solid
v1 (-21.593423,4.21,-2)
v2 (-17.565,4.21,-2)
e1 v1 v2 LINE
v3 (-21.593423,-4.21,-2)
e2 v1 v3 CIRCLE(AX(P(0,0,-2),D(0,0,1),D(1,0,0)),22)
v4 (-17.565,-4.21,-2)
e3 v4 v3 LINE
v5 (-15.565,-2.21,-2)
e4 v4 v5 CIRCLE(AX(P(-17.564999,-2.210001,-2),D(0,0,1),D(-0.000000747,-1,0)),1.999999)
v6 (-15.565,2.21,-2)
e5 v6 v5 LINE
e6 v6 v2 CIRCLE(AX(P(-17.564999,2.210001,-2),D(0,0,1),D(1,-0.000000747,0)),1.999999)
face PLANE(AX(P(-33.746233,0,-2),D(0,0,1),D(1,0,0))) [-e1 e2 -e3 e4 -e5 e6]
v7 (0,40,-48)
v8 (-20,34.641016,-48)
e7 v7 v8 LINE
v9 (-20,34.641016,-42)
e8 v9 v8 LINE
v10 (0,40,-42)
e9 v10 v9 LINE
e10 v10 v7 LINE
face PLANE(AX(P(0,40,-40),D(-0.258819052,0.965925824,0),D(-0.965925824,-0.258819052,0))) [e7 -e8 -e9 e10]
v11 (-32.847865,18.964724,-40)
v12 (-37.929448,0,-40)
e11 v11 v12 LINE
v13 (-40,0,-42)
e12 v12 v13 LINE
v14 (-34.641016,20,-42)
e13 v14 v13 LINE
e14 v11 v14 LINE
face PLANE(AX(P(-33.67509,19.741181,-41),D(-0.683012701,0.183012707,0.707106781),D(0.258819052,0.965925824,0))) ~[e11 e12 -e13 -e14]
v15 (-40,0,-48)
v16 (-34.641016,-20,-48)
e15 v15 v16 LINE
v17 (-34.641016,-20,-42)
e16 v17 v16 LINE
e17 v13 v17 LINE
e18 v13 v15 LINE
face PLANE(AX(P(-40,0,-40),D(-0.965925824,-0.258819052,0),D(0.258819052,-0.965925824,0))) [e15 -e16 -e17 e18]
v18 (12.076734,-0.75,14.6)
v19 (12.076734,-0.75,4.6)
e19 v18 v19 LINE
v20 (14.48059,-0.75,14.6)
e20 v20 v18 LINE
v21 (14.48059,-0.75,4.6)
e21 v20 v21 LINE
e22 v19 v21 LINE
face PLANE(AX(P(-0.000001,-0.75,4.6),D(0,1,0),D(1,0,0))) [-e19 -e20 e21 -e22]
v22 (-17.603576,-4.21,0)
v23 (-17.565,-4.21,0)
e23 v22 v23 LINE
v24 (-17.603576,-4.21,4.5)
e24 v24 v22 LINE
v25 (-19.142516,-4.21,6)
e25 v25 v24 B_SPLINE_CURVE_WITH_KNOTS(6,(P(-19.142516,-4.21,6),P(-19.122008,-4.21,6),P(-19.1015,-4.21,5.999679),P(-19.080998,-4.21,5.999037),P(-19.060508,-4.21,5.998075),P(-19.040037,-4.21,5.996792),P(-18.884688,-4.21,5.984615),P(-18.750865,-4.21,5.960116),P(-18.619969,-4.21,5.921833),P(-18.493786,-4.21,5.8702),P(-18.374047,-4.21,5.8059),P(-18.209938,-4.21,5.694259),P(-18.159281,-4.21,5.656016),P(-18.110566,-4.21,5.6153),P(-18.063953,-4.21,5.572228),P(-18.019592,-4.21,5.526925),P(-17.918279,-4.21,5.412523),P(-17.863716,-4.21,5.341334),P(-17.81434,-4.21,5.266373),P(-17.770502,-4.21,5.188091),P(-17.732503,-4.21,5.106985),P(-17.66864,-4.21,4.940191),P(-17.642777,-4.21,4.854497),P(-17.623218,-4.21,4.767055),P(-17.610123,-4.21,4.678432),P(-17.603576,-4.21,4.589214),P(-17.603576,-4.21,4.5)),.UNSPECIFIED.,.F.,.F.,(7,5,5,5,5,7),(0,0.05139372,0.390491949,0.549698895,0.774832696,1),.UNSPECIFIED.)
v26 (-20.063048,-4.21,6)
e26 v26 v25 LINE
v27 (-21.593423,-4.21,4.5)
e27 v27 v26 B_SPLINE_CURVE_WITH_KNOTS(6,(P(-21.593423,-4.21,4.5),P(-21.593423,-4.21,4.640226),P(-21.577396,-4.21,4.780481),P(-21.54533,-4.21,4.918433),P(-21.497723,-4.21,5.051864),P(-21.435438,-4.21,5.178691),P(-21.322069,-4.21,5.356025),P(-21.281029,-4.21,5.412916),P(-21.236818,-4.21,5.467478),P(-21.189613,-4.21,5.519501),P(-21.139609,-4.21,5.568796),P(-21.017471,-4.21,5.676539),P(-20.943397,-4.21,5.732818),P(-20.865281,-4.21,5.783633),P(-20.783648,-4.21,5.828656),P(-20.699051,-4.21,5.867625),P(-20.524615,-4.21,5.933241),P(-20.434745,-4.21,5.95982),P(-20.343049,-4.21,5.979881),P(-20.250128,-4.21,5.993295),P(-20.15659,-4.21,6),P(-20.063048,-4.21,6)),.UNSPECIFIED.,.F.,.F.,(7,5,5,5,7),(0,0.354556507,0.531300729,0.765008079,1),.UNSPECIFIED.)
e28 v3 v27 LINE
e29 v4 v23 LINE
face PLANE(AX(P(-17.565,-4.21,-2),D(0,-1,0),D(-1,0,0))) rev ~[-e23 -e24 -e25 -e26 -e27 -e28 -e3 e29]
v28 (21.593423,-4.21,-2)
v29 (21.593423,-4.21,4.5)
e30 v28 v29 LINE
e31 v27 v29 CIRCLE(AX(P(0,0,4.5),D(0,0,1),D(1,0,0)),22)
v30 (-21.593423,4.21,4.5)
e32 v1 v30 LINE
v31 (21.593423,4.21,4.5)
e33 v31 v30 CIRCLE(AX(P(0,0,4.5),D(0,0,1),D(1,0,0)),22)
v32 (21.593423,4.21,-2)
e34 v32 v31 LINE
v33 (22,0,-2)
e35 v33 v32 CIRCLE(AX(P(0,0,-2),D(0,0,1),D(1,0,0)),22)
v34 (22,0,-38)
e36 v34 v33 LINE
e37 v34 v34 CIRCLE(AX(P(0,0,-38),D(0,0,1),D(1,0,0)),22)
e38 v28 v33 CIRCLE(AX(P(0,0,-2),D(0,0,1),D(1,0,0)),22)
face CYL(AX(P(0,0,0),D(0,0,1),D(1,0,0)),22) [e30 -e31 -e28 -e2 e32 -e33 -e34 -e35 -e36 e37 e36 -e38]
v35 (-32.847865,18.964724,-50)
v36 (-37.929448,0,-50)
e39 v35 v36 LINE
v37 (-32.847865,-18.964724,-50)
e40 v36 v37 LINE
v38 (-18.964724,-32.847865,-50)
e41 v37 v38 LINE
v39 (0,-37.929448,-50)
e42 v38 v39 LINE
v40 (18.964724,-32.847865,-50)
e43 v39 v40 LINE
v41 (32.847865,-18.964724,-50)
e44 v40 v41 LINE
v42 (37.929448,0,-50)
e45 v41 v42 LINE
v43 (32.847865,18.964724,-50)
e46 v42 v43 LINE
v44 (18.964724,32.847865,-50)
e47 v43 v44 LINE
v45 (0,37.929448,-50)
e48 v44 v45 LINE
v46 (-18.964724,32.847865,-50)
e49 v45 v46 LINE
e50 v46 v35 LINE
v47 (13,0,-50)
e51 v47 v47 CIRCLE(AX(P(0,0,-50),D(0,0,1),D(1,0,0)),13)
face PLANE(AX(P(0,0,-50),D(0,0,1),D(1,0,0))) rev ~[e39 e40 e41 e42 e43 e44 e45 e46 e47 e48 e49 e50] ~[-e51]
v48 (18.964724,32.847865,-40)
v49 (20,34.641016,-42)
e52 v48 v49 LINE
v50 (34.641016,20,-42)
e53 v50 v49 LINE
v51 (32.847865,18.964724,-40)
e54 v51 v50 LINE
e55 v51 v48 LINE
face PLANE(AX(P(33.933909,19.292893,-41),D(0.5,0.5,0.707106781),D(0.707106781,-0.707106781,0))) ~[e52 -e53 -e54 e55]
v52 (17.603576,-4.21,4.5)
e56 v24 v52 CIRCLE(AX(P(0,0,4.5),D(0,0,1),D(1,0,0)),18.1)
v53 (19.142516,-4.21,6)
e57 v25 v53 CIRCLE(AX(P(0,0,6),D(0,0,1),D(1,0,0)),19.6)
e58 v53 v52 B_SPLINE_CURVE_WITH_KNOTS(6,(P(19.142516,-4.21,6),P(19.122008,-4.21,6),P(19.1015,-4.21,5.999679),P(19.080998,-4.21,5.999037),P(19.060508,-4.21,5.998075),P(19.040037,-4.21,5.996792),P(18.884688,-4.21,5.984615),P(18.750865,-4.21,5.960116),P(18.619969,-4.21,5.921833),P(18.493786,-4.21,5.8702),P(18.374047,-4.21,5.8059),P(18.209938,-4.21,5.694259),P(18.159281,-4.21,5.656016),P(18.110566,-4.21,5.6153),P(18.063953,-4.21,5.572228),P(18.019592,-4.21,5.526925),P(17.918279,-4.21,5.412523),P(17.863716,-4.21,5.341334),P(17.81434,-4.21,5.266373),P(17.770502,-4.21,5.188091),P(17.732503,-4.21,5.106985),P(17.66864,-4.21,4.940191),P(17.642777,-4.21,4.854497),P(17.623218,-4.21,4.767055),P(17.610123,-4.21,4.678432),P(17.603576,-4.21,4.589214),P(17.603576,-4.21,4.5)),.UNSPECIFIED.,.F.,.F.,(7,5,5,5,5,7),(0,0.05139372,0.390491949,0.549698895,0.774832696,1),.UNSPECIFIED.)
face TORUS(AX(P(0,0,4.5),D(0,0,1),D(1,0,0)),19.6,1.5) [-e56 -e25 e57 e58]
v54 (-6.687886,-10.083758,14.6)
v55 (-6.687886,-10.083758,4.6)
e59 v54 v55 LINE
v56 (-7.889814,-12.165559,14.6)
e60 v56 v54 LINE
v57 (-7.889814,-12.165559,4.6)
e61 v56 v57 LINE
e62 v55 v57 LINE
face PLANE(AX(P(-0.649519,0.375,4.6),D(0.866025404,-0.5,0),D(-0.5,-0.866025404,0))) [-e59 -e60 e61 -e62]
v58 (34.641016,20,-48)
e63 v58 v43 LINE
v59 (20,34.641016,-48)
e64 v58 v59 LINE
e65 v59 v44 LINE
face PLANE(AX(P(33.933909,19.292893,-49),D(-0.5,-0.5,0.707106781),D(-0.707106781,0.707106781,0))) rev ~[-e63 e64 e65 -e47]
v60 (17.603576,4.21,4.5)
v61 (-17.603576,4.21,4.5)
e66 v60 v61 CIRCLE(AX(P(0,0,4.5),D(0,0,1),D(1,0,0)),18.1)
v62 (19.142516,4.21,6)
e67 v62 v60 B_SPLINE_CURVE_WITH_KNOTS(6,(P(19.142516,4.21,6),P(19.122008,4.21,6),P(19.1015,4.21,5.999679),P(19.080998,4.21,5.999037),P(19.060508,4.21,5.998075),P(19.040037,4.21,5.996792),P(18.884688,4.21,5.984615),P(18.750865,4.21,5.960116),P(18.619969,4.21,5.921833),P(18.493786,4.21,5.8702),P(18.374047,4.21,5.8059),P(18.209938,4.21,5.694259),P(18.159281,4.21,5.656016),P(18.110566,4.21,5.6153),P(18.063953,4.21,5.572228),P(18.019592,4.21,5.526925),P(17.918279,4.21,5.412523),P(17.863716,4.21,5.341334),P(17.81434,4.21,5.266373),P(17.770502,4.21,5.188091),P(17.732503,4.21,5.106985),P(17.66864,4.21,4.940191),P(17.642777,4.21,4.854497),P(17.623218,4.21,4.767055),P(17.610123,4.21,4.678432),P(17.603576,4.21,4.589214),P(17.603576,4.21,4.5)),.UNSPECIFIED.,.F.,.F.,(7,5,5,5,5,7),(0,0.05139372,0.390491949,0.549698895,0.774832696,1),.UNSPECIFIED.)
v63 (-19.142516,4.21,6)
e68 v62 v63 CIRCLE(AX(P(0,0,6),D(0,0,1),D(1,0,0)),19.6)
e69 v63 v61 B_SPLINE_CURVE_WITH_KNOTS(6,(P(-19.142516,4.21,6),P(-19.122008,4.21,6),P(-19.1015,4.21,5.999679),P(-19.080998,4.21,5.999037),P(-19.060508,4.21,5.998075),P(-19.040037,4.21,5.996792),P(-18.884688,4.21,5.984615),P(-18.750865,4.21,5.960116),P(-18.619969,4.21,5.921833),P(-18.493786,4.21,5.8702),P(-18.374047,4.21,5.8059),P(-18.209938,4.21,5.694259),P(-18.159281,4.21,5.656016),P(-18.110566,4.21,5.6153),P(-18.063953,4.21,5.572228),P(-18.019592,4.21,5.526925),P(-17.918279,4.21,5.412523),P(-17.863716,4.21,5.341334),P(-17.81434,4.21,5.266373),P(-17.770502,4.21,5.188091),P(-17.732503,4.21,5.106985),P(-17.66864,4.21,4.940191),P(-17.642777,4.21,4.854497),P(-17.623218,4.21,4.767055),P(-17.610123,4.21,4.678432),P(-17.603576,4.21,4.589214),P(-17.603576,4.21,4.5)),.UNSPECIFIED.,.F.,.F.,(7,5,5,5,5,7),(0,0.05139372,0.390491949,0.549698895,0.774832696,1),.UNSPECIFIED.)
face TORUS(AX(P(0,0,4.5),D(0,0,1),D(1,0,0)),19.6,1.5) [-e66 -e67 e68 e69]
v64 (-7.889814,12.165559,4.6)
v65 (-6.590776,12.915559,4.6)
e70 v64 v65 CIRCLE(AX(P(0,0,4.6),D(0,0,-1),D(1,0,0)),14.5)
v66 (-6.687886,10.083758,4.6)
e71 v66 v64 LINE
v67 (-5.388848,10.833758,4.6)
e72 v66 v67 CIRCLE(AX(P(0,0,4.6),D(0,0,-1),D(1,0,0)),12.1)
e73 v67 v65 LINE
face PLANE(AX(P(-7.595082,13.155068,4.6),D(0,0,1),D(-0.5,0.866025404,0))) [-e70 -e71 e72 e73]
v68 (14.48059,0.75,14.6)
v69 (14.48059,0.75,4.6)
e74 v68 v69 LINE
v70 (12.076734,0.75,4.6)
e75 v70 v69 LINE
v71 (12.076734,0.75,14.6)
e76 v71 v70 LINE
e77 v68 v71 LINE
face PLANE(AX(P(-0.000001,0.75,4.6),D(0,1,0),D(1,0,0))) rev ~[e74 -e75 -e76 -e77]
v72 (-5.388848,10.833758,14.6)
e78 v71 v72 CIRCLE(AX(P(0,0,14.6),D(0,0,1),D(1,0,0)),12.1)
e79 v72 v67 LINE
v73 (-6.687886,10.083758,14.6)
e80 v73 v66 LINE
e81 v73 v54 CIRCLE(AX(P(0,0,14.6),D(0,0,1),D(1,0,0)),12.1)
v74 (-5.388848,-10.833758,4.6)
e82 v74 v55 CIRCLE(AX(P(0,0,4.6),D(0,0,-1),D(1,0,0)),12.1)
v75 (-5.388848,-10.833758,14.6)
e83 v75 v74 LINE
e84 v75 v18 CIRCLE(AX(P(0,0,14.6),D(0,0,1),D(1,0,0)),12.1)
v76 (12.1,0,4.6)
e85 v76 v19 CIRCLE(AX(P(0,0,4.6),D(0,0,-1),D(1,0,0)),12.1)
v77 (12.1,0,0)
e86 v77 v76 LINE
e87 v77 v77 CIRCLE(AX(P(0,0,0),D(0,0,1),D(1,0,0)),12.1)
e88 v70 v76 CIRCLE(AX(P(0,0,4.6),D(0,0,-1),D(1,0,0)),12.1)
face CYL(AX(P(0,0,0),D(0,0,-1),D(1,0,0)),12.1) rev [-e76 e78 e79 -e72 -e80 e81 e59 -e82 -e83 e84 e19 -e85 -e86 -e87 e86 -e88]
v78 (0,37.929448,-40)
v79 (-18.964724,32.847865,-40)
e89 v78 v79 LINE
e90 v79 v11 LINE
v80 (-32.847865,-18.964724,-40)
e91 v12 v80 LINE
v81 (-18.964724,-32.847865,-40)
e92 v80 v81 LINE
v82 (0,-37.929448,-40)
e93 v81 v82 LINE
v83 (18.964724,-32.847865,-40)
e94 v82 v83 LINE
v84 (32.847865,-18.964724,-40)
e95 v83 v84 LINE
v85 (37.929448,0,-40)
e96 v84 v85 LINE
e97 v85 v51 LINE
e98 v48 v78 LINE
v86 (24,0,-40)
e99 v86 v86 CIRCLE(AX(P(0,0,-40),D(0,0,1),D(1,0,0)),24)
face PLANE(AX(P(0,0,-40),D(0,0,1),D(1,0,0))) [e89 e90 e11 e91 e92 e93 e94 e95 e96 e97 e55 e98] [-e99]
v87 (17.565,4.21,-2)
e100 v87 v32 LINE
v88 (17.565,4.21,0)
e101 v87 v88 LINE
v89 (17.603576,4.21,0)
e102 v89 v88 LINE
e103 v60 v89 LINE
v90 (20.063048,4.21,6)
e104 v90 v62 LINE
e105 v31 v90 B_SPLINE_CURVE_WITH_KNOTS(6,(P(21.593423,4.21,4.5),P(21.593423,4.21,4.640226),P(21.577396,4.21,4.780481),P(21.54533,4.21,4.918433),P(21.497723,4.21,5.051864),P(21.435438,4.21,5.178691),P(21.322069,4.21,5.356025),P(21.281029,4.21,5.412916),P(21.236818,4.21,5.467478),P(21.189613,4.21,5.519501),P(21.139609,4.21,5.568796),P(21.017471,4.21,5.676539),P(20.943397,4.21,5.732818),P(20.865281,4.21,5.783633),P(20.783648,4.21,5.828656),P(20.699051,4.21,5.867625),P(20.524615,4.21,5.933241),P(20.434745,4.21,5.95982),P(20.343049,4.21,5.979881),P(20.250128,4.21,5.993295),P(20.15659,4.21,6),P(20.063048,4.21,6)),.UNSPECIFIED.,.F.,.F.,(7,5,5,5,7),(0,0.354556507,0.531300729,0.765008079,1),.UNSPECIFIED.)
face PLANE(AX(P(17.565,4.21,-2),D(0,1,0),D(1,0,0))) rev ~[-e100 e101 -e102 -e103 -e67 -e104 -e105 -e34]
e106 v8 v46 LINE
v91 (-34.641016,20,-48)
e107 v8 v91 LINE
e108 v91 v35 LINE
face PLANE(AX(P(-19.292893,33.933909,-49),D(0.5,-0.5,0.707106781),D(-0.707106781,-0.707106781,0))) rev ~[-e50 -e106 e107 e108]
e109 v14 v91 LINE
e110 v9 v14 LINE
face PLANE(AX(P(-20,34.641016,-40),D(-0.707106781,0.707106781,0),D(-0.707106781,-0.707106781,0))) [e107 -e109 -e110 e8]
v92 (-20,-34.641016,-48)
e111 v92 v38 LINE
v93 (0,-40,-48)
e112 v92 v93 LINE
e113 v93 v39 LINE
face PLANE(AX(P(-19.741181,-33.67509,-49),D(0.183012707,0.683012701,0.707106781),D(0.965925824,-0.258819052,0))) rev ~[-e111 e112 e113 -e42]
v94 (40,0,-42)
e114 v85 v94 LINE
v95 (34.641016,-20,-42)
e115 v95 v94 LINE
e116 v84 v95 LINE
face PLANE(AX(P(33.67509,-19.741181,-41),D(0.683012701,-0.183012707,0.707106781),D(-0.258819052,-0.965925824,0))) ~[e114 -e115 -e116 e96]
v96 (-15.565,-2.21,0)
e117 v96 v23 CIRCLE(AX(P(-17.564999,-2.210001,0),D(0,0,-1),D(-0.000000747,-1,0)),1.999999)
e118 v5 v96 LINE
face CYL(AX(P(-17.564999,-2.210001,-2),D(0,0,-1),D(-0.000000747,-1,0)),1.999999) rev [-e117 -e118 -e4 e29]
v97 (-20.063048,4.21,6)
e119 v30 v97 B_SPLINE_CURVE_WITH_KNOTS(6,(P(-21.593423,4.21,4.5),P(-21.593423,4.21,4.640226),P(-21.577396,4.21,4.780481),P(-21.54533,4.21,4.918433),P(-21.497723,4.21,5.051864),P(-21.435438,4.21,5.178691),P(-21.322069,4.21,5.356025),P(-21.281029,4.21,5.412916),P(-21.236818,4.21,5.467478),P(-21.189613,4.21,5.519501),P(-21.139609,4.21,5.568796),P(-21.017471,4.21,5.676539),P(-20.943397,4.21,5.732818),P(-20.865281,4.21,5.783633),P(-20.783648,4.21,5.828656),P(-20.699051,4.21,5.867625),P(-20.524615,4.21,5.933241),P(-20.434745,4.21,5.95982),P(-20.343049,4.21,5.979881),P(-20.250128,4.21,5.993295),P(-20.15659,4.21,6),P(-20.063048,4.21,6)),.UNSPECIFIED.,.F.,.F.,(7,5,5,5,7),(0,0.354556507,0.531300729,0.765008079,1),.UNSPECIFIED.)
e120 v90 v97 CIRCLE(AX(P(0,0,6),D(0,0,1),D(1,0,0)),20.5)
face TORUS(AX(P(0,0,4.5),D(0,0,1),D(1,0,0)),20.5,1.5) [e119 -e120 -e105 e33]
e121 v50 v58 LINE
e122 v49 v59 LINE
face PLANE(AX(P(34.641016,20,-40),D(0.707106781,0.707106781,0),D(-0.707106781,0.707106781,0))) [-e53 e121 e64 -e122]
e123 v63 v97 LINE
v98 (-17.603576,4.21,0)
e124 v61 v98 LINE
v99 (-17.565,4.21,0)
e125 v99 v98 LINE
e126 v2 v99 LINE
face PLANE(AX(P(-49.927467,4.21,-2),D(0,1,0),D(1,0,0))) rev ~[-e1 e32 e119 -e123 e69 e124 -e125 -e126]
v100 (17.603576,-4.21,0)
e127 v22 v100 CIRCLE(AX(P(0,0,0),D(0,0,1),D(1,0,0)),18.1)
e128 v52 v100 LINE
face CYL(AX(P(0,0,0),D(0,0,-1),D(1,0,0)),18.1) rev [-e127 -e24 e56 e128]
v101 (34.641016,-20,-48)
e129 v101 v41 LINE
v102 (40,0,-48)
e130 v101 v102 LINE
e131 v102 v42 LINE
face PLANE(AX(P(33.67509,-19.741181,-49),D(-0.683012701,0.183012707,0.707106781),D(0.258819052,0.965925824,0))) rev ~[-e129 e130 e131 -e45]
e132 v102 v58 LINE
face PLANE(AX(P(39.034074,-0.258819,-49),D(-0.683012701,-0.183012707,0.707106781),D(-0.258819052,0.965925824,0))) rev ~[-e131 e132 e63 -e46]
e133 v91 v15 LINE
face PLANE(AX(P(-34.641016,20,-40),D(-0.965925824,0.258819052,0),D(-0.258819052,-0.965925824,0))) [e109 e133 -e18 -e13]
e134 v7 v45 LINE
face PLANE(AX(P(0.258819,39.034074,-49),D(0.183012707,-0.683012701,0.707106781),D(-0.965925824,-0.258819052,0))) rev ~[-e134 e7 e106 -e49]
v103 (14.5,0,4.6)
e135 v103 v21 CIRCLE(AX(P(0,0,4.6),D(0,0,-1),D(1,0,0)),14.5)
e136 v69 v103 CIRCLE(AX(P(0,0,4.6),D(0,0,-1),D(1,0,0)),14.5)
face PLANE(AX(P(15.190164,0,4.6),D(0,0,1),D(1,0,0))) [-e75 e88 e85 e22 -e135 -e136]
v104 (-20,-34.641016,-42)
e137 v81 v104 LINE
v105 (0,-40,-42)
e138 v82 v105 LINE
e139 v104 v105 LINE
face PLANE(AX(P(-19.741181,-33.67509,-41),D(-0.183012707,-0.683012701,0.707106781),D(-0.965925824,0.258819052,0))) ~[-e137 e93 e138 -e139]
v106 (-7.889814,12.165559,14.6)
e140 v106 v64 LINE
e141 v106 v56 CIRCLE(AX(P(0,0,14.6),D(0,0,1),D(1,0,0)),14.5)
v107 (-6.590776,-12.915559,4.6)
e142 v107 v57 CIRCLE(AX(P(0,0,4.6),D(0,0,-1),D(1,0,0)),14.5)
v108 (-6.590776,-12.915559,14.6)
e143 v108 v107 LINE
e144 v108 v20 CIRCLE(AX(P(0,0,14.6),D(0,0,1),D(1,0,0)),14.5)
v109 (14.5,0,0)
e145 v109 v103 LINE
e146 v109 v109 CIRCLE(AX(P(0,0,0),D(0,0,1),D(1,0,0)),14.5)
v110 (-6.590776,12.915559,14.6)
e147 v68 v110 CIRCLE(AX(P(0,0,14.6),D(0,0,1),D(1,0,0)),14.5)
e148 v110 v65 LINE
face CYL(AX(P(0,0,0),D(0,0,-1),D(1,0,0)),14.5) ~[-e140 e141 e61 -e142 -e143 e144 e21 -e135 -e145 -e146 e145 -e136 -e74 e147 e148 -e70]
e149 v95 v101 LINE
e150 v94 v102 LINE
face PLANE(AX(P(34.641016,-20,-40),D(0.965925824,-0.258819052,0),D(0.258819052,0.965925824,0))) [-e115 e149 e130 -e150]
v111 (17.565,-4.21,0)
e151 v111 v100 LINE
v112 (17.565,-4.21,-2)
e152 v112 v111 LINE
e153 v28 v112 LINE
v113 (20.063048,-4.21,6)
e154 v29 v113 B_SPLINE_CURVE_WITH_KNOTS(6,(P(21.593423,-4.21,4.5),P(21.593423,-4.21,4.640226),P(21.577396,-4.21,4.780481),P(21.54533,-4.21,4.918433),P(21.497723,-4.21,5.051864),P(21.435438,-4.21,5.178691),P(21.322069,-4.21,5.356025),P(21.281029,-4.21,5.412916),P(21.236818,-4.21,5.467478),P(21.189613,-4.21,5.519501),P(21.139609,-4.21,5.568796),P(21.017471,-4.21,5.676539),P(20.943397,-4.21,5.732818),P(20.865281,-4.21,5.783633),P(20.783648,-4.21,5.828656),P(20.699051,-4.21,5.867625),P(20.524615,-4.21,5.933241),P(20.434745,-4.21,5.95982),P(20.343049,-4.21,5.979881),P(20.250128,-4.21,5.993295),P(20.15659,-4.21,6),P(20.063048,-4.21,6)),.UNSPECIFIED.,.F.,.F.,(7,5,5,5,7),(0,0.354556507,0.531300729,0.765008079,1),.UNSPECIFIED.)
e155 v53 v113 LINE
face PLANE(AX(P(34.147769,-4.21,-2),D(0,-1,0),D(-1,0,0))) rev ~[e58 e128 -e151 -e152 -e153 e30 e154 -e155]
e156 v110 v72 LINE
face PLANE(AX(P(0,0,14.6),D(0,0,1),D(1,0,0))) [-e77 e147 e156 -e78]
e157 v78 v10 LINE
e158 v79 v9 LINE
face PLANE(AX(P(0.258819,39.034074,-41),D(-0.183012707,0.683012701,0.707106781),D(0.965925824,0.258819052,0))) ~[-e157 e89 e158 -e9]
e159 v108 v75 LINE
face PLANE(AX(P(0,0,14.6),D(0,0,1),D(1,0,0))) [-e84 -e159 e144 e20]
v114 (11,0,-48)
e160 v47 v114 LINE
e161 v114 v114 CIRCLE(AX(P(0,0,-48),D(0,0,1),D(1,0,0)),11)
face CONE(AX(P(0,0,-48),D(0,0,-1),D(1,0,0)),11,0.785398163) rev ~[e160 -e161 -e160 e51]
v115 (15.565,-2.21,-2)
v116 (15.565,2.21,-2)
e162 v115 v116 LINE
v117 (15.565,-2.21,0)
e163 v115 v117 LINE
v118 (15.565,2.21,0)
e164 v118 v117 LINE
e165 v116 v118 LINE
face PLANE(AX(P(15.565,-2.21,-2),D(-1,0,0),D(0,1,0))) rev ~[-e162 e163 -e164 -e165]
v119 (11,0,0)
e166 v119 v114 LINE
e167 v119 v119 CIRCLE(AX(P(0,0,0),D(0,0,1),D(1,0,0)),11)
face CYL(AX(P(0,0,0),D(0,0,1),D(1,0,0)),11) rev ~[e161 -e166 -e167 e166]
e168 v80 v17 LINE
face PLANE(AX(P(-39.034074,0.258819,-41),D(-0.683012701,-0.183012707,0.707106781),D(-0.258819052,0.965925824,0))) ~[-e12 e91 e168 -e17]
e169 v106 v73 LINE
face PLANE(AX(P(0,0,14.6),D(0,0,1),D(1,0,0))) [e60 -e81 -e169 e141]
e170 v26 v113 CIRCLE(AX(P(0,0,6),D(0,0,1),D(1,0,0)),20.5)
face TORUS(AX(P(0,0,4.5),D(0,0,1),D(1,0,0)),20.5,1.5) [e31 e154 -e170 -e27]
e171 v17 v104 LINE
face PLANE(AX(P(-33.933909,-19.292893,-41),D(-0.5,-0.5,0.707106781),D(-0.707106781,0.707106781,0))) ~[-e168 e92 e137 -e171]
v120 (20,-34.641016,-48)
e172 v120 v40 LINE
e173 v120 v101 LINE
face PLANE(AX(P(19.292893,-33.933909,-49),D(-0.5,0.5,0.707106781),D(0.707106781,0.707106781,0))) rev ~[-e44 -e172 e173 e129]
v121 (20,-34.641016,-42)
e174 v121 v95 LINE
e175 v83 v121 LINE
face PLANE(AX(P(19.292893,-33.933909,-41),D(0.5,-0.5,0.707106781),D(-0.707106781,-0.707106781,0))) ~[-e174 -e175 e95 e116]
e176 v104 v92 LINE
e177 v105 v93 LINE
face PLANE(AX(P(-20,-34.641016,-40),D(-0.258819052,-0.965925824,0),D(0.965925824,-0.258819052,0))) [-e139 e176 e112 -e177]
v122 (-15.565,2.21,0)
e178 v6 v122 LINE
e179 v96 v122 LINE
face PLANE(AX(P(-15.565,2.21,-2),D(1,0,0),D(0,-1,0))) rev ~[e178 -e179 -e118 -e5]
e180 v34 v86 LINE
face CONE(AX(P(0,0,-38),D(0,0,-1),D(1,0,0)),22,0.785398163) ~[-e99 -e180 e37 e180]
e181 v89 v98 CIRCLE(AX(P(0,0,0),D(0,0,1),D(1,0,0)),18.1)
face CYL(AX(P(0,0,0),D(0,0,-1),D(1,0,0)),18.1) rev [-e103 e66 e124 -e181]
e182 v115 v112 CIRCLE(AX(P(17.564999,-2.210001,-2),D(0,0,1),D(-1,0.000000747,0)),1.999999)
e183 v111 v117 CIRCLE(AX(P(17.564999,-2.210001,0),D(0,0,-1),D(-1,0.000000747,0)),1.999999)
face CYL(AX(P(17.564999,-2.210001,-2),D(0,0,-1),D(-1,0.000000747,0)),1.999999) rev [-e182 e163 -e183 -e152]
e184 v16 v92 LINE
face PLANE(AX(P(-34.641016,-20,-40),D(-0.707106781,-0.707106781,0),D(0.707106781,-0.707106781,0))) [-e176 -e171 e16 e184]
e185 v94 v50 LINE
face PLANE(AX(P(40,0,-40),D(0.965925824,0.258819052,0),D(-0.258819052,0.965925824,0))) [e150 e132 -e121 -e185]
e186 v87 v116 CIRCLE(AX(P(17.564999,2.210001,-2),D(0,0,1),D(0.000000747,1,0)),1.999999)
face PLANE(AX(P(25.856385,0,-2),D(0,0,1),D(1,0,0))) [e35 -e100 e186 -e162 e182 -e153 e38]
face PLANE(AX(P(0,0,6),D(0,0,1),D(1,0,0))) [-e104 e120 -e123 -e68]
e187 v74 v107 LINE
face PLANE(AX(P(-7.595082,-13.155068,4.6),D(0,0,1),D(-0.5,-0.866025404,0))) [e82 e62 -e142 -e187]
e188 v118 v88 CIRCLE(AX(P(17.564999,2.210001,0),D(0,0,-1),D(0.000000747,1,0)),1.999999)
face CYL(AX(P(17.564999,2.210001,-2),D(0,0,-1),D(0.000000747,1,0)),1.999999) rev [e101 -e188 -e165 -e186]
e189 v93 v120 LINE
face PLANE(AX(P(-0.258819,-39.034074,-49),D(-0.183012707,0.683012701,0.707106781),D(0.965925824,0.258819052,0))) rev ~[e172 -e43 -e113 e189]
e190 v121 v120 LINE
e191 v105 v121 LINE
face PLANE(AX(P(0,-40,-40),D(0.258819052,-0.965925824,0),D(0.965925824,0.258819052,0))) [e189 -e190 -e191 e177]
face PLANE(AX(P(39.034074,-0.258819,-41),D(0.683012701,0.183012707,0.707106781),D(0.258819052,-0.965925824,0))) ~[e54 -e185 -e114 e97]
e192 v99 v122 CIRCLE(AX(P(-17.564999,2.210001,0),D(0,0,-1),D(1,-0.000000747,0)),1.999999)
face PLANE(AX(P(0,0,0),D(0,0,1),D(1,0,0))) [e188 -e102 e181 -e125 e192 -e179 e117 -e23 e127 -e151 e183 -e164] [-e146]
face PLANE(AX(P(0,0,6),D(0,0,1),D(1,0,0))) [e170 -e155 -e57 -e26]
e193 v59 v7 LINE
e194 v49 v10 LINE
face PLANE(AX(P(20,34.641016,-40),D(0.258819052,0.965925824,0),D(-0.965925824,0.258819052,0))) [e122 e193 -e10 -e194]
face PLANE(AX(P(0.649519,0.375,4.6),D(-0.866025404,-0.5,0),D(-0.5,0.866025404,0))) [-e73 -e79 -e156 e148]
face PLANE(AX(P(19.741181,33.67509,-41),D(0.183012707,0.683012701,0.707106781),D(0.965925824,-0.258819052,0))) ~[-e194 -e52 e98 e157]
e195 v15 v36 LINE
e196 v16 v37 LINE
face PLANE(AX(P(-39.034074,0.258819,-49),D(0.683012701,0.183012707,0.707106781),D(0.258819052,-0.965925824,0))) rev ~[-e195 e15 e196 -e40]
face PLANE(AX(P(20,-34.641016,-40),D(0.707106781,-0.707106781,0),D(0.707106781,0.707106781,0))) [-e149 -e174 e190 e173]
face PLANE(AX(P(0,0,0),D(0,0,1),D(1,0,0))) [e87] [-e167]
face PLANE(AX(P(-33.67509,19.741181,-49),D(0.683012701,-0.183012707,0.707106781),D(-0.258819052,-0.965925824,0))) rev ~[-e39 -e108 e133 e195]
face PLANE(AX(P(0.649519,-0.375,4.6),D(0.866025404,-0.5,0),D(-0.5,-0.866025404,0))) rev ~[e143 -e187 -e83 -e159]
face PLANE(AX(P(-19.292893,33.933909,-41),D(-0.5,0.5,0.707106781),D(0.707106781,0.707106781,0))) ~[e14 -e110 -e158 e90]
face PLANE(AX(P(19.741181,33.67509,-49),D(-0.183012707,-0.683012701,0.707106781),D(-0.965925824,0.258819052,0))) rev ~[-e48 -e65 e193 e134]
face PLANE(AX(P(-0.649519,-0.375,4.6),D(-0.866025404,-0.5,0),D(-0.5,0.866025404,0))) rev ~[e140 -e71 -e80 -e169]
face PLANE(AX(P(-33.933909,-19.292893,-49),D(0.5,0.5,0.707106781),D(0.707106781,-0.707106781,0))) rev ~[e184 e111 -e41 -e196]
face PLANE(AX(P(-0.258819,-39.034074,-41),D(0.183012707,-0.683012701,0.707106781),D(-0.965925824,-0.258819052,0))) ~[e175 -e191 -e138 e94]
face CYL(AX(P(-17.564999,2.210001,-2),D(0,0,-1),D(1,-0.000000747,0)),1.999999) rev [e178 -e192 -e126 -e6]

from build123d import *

# Parameters (mm, degrees)
SKETCH_R             = 14.5
SKETCH_R_2           = 12.1
PAD_DEPTH            = 14.6
SKETCH001_W          = 30.380329
SKETCH001_H          = 1.5
POCKET_DEPTH         = 97.067871
POLARPATTERN_COUNT   = 3
SKETCH003_R          = 22
PAD001_DEPTH         = 40
SKETCH004_R          = 22
SKETCH004_R_2        = 18.1
PAD002_DEPTH         = 6
PAD003_DEPTH         = 10
SKETCH005_R          = 11
POCKET001_DEPTH      = 50.001
POCKET001_DEPTH_BACK = 14.601
FILLET_R             = 1.5
POCKET002_DEPTH      = 16.601
CHAMFER_SIZE         = 2


with BuildPart() as part:
    # Sketch → Pad (new body)
    with BuildSketch(Plane.XY):
        Circle(SKETCH_R)
        Circle(SKETCH_R_2, mode=Mode.SUBTRACT)
    extrude(amount=PAD_DEPTH)

    # Sketch001 → Pocket (cut, through all)
    with BuildSketch(Plane.XY.offset(4.6)):
        with Locations((15.190164, 0)):
            Rectangle(SKETCH001_W, SKETCH001_H)
    pocket = extrude(amount=POCKET_DEPTH, mode=Mode.SUBTRACT)

    # PolarPattern: Pocket ×3 about axis
    polarpattern_axis = Axis((0, 0, 4.6), (0, 0, 1))
    for i in range(1, POLARPATTERN_COUNT):
        add(pocket.rotate(polarpattern_axis, i * 360 / POLARPATTERN_COUNT), mode=Mode.SUBTRACT)

    # Sketch003 → Pad001 (join)
    with BuildSketch(Plane.XY):
        Circle(SKETCH003_R)
    extrude(amount=-PAD001_DEPTH)

    # Sketch004 → Pad002 (join)
    with BuildSketch(Plane.XY):
        Circle(SKETCH004_R)
        Circle(SKETCH004_R_2, mode=Mode.SUBTRACT)
    extrude(amount=PAD002_DEPTH)

    # Sketch002 → Pad003 (join)
    with BuildSketch(Plane.XY.offset(-40)):
        Polygon((20, -34.641016), (34.641016, -20), (40, 0), (34.641016, 20), (20, 34.641016), (0, 40), (-20, 34.641016), (-34.641016, 20), (-40, 0), (-34.641016, -20), (-20, -34.641016), (0, -40), align=None)
    extrude(amount=-PAD003_DEPTH)

    # Sketch005 → Pocket001 (cut, two sides)
    with BuildSketch(Plane.XY) as pocket001_sk:
        Circle(SKETCH005_R)
    extrude(amount=-POCKET001_DEPTH, mode=Mode.SUBTRACT)
    extrude(pocket001_sk.sketch, amount=POCKET001_DEPTH_BACK, mode=Mode.SUBTRACT)

    # Fillet
    fillet_edges = [part.edges().sort_by_distance(p)[0] for p in [
        (-22, 0, 6),
        (-18.1, 0, 6),
    ]]
    fillet(fillet_edges, radius=FILLET_R)

    # Sketch006 → Pocket002 (cut, through all)
    with BuildSketch(Plane.XY.offset(-2)):
        with BuildLine():
            ThreePointArc((17.565, 4.21), (16.150786, 3.624214), (15.565, 2.21))
            Line((15.565, -2.21), (15.565, 2.21))
            ThreePointArc((15.565, -2.21), (16.150786, -3.624214), (17.565, -4.21))
            Line((34.147769, -4.21), (17.565, -4.21))
            ThreePointArc((34.147769, -4.21), (35.561983, -3.624214), (36.147769, -2.21))
            Line((36.147769, 2.21), (36.147769, -2.21))
            ThreePointArc((36.147769, 2.21), (35.561983, 3.624214), (34.147769, 4.21))
            Line((17.565, 4.21), (34.147769, 4.21))
        make_face()
        with BuildLine():
            ThreePointArc((-49.927467, 4.21), (-51.34168, 3.624214), (-51.927467, 2.21))
            Line((-51.927467, -2.21), (-51.927467, 2.21))
            ThreePointArc((-51.927467, -2.21), (-51.34168, -3.624214), (-49.927467, -4.21))
            Line((-17.565, -4.21), (-49.927467, -4.21))
            ThreePointArc((-17.565, -4.21), (-16.150786, -3.624214), (-15.565, -2.21))
            Line((-15.565, 2.21), (-15.565, -2.21))
            ThreePointArc((-15.565, 2.21), (-16.150786, 3.624214), (-17.565, 4.21))
            Line((-49.927467, 4.21), (-17.565, 4.21))
        make_face()
    extrude(amount=POCKET002_DEPTH, mode=Mode.SUBTRACT)

    # Chamfer
    chamfer_edges = [part.edges().sort_by_distance(p)[0] for p in [
        (27.320508, -27.320508, -50),
        (10, -37.320508, -50),
        (37.320508, -10, -50),
        (-10, -37.320508, -50),
        (37.320508, 10, -50),
        (-27.320508, -27.320508, -50),
        (27.320508, 27.320508, -50),
        (-37.320508, -10, -50),
        (10, 37.320508, -50),
        (-37.320508, 10, -50),
        (-10, 37.320508, -50),
        (-27.320508, 27.320508, -50),
        (-11, 0, -50),
        (27.320508, -27.320508, -40),
        (10, -37.320508, -40),
        (37.320508, -10, -40),
        (-10, -37.320508, -40),
        (37.320508, 10, -40),
        (-27.320508, -27.320508, -40),
        (27.320508, 27.320508, -40),
        (-37.320508, -10, -40),
        (10, 37.320508, -40),
        (-37.320508, 10, -40),
        (-10, 37.320508, -40),
        (-27.320508, 27.320508, -40),
        (-22, 0, -40),
    ]]
    chamfer(chamfer_edges, length=CHAMFER_SIZE)


solid = part.part
